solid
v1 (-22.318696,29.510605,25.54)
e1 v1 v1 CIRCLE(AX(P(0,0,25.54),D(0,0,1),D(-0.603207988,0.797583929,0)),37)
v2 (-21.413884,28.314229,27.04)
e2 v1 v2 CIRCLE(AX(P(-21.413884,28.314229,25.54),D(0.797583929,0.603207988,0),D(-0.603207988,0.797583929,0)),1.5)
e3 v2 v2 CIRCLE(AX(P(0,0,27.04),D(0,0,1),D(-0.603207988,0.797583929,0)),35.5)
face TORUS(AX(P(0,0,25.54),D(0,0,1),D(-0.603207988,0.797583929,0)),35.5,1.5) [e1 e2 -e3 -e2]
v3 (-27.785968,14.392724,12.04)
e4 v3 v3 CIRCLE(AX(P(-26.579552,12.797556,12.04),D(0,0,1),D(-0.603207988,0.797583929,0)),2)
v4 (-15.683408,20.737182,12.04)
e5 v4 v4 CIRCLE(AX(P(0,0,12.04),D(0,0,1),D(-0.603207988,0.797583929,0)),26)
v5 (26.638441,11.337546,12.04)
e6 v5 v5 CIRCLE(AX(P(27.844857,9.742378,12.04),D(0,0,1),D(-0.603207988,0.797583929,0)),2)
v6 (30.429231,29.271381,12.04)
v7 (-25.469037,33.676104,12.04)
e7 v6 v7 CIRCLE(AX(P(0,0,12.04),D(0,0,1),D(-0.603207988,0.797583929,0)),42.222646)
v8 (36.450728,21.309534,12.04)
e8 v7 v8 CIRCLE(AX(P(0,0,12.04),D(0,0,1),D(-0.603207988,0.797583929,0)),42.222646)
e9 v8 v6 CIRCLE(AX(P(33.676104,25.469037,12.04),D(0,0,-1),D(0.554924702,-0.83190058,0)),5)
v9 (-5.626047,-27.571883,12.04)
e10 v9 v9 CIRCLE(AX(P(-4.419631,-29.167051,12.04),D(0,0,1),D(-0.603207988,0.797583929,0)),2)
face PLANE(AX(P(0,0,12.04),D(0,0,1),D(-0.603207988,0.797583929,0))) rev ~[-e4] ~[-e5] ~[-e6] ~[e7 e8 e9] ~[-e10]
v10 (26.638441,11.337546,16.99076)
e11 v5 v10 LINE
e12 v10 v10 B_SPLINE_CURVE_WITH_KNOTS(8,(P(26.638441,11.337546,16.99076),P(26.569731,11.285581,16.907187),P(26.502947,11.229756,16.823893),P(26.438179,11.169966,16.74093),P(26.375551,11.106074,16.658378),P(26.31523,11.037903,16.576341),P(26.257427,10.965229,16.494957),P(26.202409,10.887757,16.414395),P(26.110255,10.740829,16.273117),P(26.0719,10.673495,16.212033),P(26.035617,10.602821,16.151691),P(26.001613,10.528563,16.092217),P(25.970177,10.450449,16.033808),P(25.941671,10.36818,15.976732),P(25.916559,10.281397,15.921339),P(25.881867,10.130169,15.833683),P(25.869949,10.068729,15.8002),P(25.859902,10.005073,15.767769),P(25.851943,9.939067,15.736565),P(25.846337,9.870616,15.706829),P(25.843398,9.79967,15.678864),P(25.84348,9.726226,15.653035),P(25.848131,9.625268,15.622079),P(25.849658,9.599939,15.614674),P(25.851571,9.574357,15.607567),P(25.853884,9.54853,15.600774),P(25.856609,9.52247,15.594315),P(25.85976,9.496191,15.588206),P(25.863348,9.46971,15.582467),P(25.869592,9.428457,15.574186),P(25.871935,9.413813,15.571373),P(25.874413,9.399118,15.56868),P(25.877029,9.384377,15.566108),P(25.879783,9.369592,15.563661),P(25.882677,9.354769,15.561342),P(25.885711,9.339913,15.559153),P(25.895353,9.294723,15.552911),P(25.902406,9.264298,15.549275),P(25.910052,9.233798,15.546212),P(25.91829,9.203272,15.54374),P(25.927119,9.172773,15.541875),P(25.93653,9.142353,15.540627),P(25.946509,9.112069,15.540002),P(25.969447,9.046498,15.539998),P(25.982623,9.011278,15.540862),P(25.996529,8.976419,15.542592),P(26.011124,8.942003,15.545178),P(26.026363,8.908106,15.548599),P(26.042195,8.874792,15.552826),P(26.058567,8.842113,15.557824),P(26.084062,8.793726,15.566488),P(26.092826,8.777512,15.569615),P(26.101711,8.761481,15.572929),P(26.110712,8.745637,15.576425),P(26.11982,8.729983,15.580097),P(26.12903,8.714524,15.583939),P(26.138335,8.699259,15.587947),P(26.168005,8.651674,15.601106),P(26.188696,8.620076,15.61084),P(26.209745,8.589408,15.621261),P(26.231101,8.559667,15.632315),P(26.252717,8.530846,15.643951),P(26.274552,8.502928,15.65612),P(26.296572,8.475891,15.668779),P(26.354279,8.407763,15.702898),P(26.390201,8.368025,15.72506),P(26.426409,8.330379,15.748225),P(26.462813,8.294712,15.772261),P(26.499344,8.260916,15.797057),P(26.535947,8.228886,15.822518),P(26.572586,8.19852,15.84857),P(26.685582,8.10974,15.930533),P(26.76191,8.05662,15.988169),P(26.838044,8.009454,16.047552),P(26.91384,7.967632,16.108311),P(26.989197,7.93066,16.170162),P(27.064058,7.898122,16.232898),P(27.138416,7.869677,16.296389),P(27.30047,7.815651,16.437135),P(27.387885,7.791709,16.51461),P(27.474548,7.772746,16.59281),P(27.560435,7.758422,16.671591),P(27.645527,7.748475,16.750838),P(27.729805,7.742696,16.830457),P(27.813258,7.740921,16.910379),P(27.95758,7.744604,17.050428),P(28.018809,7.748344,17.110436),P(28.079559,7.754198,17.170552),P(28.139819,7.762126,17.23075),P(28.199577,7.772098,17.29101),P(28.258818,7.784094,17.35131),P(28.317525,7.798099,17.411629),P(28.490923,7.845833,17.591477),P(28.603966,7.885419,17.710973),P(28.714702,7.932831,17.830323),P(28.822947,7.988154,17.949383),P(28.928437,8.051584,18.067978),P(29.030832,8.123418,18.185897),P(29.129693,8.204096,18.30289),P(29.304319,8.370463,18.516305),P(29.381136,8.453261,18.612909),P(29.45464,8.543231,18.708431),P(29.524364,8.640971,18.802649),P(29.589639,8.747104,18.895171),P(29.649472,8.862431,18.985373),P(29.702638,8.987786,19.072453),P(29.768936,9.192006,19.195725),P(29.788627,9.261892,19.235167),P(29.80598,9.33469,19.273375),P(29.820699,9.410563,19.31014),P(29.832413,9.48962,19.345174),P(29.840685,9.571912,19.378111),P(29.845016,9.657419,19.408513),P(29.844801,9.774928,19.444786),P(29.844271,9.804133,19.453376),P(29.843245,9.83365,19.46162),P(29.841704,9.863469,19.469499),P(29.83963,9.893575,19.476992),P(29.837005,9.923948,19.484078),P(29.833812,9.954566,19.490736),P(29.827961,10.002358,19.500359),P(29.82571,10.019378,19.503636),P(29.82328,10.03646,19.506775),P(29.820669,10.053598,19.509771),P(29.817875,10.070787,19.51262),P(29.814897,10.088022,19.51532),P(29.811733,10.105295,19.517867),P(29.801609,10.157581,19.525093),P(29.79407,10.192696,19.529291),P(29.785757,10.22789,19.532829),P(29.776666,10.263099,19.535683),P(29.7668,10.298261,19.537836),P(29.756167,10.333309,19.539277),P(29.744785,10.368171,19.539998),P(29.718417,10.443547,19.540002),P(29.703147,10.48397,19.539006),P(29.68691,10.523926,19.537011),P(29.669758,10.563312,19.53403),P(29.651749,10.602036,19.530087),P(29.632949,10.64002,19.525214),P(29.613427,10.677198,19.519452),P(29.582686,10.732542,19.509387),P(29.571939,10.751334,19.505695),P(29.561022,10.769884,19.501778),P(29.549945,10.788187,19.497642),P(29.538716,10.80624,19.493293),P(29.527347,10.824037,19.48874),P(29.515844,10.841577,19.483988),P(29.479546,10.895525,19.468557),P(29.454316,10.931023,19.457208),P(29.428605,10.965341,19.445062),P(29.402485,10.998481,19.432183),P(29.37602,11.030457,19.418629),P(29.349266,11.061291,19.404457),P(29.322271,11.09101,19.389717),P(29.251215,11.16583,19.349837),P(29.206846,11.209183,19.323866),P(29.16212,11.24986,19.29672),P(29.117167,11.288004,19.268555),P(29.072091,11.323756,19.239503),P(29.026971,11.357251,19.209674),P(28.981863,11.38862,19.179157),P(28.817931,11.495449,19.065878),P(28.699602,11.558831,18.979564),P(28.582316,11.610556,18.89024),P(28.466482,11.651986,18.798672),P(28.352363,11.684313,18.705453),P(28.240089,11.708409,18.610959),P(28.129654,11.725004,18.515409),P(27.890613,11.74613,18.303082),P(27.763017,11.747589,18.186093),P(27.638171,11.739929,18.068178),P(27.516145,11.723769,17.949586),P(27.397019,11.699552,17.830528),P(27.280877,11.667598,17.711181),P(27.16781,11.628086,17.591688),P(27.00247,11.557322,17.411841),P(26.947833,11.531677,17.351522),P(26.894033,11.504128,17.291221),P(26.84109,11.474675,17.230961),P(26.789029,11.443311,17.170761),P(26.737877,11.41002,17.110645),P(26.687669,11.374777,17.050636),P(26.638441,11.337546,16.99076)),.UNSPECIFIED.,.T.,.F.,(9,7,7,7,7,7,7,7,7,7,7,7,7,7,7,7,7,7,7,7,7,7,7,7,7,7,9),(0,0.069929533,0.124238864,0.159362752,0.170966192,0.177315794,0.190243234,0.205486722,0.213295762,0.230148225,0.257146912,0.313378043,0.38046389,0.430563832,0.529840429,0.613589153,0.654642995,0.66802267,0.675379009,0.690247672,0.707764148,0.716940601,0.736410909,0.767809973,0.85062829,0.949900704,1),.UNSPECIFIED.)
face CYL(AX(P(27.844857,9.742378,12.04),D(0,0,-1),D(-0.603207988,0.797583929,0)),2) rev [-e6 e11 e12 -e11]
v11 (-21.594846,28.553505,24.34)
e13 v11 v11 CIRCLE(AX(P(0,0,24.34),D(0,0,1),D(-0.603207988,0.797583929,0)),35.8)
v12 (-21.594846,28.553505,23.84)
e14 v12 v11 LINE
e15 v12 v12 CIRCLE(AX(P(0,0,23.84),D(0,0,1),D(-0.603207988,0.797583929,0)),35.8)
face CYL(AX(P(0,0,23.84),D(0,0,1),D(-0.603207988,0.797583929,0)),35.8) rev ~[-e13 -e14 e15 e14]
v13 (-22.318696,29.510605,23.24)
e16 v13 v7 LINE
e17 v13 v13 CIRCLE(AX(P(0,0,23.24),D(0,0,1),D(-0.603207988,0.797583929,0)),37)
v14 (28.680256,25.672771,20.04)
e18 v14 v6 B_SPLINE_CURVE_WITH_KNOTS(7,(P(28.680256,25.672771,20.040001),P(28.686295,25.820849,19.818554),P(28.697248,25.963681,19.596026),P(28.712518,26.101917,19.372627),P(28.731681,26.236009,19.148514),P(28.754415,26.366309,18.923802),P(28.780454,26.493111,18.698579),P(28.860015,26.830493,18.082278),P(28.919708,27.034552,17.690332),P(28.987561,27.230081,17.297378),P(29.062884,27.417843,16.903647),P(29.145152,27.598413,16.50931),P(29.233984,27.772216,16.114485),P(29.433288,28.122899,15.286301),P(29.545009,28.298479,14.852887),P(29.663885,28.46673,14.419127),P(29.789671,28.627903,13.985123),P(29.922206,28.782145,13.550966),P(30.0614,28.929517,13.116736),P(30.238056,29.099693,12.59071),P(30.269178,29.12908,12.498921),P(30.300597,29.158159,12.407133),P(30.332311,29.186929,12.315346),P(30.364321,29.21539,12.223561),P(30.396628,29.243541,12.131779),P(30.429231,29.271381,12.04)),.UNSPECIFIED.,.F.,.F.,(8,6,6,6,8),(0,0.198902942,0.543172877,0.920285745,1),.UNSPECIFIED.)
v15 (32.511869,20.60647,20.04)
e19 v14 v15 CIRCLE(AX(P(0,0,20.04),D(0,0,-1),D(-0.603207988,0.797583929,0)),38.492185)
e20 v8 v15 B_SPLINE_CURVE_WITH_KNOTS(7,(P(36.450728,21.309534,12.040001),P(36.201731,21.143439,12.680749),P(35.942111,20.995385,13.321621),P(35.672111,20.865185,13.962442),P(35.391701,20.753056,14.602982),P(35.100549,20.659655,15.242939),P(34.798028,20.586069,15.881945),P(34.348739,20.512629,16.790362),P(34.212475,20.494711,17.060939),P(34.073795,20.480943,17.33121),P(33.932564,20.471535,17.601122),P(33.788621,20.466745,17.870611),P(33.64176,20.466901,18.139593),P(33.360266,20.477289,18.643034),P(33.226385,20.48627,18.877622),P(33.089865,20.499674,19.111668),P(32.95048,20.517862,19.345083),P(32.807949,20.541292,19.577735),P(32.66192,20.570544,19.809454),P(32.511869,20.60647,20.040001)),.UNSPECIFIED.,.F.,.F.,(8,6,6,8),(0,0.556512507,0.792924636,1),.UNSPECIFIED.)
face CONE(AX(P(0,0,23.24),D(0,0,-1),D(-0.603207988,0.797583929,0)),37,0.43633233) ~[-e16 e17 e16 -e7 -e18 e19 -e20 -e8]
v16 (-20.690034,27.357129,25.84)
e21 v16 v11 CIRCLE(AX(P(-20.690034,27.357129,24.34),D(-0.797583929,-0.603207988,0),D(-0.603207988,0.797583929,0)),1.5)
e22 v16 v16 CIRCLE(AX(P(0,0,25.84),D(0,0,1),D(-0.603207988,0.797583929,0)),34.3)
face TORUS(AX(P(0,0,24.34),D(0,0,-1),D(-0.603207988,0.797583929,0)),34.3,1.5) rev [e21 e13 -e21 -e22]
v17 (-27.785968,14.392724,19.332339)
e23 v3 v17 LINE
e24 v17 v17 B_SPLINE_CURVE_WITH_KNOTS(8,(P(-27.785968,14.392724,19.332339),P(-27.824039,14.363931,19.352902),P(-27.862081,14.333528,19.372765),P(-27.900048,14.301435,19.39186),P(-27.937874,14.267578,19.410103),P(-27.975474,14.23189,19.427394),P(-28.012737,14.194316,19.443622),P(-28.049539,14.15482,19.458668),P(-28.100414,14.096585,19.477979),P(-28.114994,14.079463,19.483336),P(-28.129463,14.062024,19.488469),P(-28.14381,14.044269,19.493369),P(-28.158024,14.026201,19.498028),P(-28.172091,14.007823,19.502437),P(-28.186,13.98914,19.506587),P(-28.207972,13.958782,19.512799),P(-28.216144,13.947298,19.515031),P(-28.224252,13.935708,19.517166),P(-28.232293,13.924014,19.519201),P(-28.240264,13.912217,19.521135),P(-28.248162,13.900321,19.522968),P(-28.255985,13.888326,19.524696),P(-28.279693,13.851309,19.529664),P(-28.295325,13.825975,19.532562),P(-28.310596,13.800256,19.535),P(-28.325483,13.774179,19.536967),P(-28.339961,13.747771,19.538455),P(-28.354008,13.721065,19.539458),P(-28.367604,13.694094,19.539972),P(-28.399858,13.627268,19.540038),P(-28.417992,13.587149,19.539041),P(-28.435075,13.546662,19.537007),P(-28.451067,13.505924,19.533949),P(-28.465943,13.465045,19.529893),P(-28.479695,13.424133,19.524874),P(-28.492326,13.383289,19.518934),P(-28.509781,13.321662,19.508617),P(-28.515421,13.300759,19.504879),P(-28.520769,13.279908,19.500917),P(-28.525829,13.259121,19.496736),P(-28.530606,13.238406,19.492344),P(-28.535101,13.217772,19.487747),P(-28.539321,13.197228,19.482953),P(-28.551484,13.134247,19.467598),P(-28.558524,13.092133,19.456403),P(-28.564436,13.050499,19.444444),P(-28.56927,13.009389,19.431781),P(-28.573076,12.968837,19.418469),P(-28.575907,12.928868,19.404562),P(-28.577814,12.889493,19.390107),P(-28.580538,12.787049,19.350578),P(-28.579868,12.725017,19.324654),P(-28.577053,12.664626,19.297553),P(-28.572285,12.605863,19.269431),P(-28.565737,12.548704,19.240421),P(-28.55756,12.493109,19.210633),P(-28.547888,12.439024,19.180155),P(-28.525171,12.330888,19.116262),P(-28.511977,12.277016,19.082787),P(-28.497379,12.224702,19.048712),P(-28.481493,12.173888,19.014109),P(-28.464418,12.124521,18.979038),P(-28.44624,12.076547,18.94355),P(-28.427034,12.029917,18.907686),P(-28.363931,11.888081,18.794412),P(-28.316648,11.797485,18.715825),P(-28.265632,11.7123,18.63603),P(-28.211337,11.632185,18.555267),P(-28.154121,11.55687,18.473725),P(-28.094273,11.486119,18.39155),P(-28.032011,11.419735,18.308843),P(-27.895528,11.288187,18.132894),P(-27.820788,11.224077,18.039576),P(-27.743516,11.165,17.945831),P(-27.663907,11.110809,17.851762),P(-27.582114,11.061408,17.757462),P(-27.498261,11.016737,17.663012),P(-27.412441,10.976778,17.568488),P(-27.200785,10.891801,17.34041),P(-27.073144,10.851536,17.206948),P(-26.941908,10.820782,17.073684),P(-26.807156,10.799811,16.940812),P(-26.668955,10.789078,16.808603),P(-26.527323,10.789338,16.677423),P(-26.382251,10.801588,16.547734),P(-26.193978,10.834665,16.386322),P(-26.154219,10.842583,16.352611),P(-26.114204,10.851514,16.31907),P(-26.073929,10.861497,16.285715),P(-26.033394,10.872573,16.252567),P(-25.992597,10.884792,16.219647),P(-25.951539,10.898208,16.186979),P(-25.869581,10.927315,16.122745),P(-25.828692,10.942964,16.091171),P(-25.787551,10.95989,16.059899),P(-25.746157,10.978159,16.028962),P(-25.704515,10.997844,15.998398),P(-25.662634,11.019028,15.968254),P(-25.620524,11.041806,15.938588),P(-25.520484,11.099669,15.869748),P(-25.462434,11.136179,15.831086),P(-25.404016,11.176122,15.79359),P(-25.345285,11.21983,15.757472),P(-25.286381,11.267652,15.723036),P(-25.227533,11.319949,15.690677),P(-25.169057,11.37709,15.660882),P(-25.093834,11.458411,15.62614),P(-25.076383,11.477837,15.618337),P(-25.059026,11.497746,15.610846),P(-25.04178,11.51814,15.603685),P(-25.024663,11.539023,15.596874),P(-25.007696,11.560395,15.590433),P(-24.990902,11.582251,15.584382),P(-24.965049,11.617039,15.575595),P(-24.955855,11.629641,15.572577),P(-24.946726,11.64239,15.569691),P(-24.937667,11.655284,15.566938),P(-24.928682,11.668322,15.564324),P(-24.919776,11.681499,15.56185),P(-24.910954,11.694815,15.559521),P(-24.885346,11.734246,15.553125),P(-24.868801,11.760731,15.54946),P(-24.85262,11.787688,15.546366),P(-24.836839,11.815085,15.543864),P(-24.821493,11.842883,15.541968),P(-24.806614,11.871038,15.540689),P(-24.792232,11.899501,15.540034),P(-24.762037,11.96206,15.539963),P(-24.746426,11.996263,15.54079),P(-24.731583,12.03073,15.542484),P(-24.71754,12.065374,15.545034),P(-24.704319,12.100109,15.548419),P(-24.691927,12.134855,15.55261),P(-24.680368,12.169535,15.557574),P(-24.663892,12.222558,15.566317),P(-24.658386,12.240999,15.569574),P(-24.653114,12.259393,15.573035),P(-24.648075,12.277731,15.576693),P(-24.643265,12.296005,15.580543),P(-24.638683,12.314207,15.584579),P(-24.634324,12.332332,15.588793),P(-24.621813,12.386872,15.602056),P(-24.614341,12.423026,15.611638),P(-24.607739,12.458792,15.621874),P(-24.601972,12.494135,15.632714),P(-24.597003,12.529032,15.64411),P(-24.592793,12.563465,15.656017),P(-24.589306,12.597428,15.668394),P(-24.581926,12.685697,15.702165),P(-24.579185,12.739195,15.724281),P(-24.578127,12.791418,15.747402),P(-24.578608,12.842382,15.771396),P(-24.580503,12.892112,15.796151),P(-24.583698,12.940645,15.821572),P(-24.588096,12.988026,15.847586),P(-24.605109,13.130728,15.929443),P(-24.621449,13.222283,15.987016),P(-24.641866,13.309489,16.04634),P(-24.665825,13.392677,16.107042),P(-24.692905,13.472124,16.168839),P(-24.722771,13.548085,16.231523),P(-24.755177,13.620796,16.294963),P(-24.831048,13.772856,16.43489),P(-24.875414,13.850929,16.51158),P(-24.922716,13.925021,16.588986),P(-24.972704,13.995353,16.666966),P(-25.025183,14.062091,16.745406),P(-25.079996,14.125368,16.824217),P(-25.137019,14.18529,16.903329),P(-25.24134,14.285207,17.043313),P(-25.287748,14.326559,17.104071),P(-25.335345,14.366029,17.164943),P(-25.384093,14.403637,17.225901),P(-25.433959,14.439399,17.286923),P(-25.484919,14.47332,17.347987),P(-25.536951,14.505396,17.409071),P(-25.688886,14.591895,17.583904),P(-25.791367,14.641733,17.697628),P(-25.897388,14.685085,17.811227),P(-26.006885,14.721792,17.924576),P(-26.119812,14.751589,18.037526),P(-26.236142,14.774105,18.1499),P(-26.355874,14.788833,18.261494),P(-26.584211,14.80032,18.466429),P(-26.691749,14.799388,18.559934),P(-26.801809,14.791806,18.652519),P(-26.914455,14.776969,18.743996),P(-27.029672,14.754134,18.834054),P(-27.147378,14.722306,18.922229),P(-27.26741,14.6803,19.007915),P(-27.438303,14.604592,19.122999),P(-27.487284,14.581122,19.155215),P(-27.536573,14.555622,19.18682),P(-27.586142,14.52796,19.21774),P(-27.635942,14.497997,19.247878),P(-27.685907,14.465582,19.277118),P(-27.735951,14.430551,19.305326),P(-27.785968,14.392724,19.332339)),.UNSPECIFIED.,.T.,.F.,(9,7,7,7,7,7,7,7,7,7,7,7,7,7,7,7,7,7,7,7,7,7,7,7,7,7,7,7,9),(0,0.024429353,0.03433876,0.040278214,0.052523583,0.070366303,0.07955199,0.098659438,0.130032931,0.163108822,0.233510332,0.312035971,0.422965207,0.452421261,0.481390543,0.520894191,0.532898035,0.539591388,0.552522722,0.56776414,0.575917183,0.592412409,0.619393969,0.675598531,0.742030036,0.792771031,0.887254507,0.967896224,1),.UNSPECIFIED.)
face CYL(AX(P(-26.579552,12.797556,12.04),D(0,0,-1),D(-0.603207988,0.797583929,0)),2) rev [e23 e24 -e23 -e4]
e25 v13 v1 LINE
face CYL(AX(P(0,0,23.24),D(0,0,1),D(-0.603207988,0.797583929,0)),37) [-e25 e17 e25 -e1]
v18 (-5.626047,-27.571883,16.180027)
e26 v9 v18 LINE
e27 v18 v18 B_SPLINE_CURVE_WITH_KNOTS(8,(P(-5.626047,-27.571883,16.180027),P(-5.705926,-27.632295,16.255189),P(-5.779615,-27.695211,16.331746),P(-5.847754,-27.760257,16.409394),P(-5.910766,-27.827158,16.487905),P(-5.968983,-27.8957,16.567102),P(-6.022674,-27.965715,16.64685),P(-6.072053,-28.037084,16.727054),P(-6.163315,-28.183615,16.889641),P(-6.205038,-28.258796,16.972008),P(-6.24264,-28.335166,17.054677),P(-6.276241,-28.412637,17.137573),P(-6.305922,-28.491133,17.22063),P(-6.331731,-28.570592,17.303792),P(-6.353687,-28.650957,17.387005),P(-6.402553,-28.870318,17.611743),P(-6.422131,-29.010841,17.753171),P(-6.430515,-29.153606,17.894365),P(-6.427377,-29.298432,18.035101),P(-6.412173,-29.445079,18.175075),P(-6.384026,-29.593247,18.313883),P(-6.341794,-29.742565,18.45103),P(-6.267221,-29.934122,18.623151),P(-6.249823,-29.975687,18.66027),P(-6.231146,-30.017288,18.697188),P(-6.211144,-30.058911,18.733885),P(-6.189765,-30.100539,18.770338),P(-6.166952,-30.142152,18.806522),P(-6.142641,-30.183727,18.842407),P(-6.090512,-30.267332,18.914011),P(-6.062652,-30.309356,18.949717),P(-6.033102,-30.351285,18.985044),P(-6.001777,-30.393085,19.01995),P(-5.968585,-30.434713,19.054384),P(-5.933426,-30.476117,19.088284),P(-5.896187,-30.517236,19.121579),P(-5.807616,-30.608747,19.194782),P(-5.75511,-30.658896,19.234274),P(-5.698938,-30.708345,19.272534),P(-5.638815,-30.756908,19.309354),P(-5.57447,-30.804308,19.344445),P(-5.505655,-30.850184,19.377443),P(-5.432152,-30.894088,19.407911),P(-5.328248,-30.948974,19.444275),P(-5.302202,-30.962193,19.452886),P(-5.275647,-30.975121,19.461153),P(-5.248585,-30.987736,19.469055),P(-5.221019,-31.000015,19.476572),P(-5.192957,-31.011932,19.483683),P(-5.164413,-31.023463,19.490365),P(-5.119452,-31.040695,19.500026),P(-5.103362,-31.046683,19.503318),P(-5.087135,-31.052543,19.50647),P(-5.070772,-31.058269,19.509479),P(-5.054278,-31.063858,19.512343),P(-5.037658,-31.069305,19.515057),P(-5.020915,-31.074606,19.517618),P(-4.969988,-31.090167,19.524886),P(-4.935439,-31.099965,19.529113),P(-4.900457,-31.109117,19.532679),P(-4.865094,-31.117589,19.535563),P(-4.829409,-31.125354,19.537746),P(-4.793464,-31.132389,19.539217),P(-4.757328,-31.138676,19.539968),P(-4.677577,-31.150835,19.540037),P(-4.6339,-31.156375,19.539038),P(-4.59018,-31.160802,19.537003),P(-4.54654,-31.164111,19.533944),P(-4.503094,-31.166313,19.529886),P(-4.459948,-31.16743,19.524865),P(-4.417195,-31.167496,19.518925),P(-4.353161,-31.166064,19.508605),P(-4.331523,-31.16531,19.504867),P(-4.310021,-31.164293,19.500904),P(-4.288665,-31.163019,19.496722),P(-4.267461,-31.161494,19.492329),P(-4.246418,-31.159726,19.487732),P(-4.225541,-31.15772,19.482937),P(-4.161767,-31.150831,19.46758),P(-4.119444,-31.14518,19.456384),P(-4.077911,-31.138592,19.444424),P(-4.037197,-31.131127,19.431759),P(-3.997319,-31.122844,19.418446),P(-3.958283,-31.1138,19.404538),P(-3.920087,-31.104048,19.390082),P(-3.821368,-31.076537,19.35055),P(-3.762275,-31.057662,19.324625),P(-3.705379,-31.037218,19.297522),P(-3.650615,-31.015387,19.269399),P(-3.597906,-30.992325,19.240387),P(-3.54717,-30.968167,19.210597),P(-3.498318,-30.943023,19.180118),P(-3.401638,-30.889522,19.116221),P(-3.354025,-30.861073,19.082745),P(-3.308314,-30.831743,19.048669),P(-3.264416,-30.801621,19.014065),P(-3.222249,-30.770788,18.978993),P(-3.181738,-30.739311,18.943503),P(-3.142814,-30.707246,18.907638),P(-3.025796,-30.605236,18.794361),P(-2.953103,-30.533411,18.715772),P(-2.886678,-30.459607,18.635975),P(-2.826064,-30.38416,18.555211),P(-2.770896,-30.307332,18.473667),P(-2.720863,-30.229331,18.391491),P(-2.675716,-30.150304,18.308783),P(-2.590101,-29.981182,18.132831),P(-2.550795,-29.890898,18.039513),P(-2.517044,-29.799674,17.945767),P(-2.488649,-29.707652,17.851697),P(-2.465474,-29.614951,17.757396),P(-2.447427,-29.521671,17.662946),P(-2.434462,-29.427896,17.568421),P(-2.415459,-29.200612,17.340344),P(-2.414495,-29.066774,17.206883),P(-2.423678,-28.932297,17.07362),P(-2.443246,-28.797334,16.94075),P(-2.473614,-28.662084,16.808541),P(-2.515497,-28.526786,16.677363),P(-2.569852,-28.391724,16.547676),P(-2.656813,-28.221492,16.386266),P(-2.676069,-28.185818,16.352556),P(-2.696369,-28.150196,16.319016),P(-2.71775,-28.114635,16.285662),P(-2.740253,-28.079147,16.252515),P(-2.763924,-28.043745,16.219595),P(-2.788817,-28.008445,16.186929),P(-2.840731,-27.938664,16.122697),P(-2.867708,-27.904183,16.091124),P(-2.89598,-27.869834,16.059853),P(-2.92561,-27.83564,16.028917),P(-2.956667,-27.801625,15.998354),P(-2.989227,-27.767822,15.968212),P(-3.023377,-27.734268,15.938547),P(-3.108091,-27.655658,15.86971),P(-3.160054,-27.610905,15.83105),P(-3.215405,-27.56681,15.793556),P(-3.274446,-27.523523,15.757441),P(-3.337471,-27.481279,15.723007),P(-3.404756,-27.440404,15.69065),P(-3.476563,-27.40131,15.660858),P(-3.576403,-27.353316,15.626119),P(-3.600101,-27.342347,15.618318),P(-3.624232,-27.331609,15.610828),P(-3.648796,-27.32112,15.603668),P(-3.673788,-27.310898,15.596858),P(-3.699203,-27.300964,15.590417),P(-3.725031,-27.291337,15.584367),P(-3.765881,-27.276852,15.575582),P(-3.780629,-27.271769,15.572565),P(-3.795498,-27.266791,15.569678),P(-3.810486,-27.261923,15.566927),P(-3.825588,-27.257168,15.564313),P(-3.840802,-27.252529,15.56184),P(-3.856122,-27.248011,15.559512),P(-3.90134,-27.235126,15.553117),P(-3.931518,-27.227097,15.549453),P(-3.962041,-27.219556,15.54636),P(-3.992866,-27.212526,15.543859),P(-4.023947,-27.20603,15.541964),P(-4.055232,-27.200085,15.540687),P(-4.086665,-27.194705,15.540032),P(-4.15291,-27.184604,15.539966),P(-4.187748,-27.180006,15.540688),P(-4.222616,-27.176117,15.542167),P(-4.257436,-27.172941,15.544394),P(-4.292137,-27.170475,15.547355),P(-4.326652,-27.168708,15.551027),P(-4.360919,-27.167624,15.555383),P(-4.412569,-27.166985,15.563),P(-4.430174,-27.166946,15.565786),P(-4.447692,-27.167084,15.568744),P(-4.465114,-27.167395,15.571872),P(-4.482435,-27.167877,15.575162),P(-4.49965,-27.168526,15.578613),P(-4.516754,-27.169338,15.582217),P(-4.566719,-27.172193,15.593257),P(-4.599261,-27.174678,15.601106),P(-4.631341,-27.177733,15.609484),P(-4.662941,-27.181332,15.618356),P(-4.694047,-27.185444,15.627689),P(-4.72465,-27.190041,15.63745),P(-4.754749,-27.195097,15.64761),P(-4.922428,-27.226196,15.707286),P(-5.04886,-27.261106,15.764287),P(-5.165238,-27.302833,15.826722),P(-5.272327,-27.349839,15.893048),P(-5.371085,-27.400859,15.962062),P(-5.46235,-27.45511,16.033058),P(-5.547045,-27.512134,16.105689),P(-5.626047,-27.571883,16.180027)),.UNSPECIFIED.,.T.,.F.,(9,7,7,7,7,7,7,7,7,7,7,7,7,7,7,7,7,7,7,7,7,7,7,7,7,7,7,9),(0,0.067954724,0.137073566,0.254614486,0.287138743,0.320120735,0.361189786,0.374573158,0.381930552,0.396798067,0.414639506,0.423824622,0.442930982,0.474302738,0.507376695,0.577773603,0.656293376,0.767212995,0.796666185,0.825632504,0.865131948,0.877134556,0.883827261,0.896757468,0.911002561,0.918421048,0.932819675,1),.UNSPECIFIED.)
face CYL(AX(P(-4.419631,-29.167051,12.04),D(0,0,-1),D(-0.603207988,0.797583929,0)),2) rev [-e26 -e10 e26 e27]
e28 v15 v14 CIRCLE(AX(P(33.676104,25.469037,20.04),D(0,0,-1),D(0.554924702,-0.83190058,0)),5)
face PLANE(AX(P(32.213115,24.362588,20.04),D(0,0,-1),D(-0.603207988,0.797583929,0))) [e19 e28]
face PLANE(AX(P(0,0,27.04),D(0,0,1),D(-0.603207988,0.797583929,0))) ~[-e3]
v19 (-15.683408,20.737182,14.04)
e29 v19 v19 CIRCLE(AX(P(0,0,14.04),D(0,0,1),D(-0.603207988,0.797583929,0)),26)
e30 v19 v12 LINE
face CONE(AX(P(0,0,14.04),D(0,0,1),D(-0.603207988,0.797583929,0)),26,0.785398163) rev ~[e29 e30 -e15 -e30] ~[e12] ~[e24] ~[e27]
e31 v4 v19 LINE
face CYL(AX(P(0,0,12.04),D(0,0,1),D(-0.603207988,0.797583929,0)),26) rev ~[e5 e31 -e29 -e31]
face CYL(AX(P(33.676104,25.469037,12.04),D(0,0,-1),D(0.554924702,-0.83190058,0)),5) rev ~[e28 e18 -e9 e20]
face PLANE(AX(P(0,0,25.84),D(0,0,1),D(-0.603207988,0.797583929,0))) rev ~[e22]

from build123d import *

# Parameters (mm, degrees)
POCKET001_DEPTH         = 8
FILLET_R                = 1.5
SKETCH021_R             = 2
POCKET006_DEPTH         = 8
BODY003_PLACEMENT_ANGLE = 127.1


with BuildPart() as part:
    # Sketch009 → Revolution002 (revolve)
    with BuildSketch(Plane.XZ):
        Polygon((35.8, -1.2), (0, -1.2), (0, 0), (37, 0), (37, -2.8), (37, -3.8), (42.222646, -15), (26, -15), (26, -13), (35.8, -3.2), align=None)
    revolve(axis=Axis((0, 0, 0), (0, 0, 1)))

    # Sketch010 (on Face6 of Revolution002) → Pocket001 (cut)
    with BuildSketch(Plane(origin=(0, 0, -15), x_dir=(1, 0, 0), z_dir=(0, 0, -1))):
        with BuildLine():
            ThreePointArc((-4.991228, 41.926596), (0, 37.222646), (4.991228, 41.926596))
            ThreePointArc((4.991228, 41.926596), (0, 42.222646), (-4.991228, 41.926596))
        make_face()
    extrude(amount=-POCKET001_DEPTH, mode=Mode.SUBTRACT)

    # Fillet
    fillet_edges = [part.edges().sort_by_distance(p)[0] for p in [
        (-37, 0, 0),
        (-35.8, 0, -1.2),
    ]]
    fillet(fillet_edges, radius=FILLET_R)

    # Sketch021 → Pocket006 (cut)
    with BuildSketch(Plane.XY.offset(-15)):
        with Locations((-9.025876, -28.085291)):
            Circle(SKETCH021_R)
        with Locations((26.240123, 13.479835)):
            Circle(SKETCH021_R)
        with Locations((-20.597214, 21.118825)):
            Circle(SKETCH021_R)
    extrude(amount=POCKET006_DEPTH, mode=Mode.SUBTRACT)


with BuildPart() as part_1:
    # Body003 placement: moved
    add(part.part.moved(Location((0, 0, 27.04))).rotate(Axis((0, 0, 27.04), (0, 0, 1)), BODY003_PLACEMENT_ANGLE))


solid = part_1.part
